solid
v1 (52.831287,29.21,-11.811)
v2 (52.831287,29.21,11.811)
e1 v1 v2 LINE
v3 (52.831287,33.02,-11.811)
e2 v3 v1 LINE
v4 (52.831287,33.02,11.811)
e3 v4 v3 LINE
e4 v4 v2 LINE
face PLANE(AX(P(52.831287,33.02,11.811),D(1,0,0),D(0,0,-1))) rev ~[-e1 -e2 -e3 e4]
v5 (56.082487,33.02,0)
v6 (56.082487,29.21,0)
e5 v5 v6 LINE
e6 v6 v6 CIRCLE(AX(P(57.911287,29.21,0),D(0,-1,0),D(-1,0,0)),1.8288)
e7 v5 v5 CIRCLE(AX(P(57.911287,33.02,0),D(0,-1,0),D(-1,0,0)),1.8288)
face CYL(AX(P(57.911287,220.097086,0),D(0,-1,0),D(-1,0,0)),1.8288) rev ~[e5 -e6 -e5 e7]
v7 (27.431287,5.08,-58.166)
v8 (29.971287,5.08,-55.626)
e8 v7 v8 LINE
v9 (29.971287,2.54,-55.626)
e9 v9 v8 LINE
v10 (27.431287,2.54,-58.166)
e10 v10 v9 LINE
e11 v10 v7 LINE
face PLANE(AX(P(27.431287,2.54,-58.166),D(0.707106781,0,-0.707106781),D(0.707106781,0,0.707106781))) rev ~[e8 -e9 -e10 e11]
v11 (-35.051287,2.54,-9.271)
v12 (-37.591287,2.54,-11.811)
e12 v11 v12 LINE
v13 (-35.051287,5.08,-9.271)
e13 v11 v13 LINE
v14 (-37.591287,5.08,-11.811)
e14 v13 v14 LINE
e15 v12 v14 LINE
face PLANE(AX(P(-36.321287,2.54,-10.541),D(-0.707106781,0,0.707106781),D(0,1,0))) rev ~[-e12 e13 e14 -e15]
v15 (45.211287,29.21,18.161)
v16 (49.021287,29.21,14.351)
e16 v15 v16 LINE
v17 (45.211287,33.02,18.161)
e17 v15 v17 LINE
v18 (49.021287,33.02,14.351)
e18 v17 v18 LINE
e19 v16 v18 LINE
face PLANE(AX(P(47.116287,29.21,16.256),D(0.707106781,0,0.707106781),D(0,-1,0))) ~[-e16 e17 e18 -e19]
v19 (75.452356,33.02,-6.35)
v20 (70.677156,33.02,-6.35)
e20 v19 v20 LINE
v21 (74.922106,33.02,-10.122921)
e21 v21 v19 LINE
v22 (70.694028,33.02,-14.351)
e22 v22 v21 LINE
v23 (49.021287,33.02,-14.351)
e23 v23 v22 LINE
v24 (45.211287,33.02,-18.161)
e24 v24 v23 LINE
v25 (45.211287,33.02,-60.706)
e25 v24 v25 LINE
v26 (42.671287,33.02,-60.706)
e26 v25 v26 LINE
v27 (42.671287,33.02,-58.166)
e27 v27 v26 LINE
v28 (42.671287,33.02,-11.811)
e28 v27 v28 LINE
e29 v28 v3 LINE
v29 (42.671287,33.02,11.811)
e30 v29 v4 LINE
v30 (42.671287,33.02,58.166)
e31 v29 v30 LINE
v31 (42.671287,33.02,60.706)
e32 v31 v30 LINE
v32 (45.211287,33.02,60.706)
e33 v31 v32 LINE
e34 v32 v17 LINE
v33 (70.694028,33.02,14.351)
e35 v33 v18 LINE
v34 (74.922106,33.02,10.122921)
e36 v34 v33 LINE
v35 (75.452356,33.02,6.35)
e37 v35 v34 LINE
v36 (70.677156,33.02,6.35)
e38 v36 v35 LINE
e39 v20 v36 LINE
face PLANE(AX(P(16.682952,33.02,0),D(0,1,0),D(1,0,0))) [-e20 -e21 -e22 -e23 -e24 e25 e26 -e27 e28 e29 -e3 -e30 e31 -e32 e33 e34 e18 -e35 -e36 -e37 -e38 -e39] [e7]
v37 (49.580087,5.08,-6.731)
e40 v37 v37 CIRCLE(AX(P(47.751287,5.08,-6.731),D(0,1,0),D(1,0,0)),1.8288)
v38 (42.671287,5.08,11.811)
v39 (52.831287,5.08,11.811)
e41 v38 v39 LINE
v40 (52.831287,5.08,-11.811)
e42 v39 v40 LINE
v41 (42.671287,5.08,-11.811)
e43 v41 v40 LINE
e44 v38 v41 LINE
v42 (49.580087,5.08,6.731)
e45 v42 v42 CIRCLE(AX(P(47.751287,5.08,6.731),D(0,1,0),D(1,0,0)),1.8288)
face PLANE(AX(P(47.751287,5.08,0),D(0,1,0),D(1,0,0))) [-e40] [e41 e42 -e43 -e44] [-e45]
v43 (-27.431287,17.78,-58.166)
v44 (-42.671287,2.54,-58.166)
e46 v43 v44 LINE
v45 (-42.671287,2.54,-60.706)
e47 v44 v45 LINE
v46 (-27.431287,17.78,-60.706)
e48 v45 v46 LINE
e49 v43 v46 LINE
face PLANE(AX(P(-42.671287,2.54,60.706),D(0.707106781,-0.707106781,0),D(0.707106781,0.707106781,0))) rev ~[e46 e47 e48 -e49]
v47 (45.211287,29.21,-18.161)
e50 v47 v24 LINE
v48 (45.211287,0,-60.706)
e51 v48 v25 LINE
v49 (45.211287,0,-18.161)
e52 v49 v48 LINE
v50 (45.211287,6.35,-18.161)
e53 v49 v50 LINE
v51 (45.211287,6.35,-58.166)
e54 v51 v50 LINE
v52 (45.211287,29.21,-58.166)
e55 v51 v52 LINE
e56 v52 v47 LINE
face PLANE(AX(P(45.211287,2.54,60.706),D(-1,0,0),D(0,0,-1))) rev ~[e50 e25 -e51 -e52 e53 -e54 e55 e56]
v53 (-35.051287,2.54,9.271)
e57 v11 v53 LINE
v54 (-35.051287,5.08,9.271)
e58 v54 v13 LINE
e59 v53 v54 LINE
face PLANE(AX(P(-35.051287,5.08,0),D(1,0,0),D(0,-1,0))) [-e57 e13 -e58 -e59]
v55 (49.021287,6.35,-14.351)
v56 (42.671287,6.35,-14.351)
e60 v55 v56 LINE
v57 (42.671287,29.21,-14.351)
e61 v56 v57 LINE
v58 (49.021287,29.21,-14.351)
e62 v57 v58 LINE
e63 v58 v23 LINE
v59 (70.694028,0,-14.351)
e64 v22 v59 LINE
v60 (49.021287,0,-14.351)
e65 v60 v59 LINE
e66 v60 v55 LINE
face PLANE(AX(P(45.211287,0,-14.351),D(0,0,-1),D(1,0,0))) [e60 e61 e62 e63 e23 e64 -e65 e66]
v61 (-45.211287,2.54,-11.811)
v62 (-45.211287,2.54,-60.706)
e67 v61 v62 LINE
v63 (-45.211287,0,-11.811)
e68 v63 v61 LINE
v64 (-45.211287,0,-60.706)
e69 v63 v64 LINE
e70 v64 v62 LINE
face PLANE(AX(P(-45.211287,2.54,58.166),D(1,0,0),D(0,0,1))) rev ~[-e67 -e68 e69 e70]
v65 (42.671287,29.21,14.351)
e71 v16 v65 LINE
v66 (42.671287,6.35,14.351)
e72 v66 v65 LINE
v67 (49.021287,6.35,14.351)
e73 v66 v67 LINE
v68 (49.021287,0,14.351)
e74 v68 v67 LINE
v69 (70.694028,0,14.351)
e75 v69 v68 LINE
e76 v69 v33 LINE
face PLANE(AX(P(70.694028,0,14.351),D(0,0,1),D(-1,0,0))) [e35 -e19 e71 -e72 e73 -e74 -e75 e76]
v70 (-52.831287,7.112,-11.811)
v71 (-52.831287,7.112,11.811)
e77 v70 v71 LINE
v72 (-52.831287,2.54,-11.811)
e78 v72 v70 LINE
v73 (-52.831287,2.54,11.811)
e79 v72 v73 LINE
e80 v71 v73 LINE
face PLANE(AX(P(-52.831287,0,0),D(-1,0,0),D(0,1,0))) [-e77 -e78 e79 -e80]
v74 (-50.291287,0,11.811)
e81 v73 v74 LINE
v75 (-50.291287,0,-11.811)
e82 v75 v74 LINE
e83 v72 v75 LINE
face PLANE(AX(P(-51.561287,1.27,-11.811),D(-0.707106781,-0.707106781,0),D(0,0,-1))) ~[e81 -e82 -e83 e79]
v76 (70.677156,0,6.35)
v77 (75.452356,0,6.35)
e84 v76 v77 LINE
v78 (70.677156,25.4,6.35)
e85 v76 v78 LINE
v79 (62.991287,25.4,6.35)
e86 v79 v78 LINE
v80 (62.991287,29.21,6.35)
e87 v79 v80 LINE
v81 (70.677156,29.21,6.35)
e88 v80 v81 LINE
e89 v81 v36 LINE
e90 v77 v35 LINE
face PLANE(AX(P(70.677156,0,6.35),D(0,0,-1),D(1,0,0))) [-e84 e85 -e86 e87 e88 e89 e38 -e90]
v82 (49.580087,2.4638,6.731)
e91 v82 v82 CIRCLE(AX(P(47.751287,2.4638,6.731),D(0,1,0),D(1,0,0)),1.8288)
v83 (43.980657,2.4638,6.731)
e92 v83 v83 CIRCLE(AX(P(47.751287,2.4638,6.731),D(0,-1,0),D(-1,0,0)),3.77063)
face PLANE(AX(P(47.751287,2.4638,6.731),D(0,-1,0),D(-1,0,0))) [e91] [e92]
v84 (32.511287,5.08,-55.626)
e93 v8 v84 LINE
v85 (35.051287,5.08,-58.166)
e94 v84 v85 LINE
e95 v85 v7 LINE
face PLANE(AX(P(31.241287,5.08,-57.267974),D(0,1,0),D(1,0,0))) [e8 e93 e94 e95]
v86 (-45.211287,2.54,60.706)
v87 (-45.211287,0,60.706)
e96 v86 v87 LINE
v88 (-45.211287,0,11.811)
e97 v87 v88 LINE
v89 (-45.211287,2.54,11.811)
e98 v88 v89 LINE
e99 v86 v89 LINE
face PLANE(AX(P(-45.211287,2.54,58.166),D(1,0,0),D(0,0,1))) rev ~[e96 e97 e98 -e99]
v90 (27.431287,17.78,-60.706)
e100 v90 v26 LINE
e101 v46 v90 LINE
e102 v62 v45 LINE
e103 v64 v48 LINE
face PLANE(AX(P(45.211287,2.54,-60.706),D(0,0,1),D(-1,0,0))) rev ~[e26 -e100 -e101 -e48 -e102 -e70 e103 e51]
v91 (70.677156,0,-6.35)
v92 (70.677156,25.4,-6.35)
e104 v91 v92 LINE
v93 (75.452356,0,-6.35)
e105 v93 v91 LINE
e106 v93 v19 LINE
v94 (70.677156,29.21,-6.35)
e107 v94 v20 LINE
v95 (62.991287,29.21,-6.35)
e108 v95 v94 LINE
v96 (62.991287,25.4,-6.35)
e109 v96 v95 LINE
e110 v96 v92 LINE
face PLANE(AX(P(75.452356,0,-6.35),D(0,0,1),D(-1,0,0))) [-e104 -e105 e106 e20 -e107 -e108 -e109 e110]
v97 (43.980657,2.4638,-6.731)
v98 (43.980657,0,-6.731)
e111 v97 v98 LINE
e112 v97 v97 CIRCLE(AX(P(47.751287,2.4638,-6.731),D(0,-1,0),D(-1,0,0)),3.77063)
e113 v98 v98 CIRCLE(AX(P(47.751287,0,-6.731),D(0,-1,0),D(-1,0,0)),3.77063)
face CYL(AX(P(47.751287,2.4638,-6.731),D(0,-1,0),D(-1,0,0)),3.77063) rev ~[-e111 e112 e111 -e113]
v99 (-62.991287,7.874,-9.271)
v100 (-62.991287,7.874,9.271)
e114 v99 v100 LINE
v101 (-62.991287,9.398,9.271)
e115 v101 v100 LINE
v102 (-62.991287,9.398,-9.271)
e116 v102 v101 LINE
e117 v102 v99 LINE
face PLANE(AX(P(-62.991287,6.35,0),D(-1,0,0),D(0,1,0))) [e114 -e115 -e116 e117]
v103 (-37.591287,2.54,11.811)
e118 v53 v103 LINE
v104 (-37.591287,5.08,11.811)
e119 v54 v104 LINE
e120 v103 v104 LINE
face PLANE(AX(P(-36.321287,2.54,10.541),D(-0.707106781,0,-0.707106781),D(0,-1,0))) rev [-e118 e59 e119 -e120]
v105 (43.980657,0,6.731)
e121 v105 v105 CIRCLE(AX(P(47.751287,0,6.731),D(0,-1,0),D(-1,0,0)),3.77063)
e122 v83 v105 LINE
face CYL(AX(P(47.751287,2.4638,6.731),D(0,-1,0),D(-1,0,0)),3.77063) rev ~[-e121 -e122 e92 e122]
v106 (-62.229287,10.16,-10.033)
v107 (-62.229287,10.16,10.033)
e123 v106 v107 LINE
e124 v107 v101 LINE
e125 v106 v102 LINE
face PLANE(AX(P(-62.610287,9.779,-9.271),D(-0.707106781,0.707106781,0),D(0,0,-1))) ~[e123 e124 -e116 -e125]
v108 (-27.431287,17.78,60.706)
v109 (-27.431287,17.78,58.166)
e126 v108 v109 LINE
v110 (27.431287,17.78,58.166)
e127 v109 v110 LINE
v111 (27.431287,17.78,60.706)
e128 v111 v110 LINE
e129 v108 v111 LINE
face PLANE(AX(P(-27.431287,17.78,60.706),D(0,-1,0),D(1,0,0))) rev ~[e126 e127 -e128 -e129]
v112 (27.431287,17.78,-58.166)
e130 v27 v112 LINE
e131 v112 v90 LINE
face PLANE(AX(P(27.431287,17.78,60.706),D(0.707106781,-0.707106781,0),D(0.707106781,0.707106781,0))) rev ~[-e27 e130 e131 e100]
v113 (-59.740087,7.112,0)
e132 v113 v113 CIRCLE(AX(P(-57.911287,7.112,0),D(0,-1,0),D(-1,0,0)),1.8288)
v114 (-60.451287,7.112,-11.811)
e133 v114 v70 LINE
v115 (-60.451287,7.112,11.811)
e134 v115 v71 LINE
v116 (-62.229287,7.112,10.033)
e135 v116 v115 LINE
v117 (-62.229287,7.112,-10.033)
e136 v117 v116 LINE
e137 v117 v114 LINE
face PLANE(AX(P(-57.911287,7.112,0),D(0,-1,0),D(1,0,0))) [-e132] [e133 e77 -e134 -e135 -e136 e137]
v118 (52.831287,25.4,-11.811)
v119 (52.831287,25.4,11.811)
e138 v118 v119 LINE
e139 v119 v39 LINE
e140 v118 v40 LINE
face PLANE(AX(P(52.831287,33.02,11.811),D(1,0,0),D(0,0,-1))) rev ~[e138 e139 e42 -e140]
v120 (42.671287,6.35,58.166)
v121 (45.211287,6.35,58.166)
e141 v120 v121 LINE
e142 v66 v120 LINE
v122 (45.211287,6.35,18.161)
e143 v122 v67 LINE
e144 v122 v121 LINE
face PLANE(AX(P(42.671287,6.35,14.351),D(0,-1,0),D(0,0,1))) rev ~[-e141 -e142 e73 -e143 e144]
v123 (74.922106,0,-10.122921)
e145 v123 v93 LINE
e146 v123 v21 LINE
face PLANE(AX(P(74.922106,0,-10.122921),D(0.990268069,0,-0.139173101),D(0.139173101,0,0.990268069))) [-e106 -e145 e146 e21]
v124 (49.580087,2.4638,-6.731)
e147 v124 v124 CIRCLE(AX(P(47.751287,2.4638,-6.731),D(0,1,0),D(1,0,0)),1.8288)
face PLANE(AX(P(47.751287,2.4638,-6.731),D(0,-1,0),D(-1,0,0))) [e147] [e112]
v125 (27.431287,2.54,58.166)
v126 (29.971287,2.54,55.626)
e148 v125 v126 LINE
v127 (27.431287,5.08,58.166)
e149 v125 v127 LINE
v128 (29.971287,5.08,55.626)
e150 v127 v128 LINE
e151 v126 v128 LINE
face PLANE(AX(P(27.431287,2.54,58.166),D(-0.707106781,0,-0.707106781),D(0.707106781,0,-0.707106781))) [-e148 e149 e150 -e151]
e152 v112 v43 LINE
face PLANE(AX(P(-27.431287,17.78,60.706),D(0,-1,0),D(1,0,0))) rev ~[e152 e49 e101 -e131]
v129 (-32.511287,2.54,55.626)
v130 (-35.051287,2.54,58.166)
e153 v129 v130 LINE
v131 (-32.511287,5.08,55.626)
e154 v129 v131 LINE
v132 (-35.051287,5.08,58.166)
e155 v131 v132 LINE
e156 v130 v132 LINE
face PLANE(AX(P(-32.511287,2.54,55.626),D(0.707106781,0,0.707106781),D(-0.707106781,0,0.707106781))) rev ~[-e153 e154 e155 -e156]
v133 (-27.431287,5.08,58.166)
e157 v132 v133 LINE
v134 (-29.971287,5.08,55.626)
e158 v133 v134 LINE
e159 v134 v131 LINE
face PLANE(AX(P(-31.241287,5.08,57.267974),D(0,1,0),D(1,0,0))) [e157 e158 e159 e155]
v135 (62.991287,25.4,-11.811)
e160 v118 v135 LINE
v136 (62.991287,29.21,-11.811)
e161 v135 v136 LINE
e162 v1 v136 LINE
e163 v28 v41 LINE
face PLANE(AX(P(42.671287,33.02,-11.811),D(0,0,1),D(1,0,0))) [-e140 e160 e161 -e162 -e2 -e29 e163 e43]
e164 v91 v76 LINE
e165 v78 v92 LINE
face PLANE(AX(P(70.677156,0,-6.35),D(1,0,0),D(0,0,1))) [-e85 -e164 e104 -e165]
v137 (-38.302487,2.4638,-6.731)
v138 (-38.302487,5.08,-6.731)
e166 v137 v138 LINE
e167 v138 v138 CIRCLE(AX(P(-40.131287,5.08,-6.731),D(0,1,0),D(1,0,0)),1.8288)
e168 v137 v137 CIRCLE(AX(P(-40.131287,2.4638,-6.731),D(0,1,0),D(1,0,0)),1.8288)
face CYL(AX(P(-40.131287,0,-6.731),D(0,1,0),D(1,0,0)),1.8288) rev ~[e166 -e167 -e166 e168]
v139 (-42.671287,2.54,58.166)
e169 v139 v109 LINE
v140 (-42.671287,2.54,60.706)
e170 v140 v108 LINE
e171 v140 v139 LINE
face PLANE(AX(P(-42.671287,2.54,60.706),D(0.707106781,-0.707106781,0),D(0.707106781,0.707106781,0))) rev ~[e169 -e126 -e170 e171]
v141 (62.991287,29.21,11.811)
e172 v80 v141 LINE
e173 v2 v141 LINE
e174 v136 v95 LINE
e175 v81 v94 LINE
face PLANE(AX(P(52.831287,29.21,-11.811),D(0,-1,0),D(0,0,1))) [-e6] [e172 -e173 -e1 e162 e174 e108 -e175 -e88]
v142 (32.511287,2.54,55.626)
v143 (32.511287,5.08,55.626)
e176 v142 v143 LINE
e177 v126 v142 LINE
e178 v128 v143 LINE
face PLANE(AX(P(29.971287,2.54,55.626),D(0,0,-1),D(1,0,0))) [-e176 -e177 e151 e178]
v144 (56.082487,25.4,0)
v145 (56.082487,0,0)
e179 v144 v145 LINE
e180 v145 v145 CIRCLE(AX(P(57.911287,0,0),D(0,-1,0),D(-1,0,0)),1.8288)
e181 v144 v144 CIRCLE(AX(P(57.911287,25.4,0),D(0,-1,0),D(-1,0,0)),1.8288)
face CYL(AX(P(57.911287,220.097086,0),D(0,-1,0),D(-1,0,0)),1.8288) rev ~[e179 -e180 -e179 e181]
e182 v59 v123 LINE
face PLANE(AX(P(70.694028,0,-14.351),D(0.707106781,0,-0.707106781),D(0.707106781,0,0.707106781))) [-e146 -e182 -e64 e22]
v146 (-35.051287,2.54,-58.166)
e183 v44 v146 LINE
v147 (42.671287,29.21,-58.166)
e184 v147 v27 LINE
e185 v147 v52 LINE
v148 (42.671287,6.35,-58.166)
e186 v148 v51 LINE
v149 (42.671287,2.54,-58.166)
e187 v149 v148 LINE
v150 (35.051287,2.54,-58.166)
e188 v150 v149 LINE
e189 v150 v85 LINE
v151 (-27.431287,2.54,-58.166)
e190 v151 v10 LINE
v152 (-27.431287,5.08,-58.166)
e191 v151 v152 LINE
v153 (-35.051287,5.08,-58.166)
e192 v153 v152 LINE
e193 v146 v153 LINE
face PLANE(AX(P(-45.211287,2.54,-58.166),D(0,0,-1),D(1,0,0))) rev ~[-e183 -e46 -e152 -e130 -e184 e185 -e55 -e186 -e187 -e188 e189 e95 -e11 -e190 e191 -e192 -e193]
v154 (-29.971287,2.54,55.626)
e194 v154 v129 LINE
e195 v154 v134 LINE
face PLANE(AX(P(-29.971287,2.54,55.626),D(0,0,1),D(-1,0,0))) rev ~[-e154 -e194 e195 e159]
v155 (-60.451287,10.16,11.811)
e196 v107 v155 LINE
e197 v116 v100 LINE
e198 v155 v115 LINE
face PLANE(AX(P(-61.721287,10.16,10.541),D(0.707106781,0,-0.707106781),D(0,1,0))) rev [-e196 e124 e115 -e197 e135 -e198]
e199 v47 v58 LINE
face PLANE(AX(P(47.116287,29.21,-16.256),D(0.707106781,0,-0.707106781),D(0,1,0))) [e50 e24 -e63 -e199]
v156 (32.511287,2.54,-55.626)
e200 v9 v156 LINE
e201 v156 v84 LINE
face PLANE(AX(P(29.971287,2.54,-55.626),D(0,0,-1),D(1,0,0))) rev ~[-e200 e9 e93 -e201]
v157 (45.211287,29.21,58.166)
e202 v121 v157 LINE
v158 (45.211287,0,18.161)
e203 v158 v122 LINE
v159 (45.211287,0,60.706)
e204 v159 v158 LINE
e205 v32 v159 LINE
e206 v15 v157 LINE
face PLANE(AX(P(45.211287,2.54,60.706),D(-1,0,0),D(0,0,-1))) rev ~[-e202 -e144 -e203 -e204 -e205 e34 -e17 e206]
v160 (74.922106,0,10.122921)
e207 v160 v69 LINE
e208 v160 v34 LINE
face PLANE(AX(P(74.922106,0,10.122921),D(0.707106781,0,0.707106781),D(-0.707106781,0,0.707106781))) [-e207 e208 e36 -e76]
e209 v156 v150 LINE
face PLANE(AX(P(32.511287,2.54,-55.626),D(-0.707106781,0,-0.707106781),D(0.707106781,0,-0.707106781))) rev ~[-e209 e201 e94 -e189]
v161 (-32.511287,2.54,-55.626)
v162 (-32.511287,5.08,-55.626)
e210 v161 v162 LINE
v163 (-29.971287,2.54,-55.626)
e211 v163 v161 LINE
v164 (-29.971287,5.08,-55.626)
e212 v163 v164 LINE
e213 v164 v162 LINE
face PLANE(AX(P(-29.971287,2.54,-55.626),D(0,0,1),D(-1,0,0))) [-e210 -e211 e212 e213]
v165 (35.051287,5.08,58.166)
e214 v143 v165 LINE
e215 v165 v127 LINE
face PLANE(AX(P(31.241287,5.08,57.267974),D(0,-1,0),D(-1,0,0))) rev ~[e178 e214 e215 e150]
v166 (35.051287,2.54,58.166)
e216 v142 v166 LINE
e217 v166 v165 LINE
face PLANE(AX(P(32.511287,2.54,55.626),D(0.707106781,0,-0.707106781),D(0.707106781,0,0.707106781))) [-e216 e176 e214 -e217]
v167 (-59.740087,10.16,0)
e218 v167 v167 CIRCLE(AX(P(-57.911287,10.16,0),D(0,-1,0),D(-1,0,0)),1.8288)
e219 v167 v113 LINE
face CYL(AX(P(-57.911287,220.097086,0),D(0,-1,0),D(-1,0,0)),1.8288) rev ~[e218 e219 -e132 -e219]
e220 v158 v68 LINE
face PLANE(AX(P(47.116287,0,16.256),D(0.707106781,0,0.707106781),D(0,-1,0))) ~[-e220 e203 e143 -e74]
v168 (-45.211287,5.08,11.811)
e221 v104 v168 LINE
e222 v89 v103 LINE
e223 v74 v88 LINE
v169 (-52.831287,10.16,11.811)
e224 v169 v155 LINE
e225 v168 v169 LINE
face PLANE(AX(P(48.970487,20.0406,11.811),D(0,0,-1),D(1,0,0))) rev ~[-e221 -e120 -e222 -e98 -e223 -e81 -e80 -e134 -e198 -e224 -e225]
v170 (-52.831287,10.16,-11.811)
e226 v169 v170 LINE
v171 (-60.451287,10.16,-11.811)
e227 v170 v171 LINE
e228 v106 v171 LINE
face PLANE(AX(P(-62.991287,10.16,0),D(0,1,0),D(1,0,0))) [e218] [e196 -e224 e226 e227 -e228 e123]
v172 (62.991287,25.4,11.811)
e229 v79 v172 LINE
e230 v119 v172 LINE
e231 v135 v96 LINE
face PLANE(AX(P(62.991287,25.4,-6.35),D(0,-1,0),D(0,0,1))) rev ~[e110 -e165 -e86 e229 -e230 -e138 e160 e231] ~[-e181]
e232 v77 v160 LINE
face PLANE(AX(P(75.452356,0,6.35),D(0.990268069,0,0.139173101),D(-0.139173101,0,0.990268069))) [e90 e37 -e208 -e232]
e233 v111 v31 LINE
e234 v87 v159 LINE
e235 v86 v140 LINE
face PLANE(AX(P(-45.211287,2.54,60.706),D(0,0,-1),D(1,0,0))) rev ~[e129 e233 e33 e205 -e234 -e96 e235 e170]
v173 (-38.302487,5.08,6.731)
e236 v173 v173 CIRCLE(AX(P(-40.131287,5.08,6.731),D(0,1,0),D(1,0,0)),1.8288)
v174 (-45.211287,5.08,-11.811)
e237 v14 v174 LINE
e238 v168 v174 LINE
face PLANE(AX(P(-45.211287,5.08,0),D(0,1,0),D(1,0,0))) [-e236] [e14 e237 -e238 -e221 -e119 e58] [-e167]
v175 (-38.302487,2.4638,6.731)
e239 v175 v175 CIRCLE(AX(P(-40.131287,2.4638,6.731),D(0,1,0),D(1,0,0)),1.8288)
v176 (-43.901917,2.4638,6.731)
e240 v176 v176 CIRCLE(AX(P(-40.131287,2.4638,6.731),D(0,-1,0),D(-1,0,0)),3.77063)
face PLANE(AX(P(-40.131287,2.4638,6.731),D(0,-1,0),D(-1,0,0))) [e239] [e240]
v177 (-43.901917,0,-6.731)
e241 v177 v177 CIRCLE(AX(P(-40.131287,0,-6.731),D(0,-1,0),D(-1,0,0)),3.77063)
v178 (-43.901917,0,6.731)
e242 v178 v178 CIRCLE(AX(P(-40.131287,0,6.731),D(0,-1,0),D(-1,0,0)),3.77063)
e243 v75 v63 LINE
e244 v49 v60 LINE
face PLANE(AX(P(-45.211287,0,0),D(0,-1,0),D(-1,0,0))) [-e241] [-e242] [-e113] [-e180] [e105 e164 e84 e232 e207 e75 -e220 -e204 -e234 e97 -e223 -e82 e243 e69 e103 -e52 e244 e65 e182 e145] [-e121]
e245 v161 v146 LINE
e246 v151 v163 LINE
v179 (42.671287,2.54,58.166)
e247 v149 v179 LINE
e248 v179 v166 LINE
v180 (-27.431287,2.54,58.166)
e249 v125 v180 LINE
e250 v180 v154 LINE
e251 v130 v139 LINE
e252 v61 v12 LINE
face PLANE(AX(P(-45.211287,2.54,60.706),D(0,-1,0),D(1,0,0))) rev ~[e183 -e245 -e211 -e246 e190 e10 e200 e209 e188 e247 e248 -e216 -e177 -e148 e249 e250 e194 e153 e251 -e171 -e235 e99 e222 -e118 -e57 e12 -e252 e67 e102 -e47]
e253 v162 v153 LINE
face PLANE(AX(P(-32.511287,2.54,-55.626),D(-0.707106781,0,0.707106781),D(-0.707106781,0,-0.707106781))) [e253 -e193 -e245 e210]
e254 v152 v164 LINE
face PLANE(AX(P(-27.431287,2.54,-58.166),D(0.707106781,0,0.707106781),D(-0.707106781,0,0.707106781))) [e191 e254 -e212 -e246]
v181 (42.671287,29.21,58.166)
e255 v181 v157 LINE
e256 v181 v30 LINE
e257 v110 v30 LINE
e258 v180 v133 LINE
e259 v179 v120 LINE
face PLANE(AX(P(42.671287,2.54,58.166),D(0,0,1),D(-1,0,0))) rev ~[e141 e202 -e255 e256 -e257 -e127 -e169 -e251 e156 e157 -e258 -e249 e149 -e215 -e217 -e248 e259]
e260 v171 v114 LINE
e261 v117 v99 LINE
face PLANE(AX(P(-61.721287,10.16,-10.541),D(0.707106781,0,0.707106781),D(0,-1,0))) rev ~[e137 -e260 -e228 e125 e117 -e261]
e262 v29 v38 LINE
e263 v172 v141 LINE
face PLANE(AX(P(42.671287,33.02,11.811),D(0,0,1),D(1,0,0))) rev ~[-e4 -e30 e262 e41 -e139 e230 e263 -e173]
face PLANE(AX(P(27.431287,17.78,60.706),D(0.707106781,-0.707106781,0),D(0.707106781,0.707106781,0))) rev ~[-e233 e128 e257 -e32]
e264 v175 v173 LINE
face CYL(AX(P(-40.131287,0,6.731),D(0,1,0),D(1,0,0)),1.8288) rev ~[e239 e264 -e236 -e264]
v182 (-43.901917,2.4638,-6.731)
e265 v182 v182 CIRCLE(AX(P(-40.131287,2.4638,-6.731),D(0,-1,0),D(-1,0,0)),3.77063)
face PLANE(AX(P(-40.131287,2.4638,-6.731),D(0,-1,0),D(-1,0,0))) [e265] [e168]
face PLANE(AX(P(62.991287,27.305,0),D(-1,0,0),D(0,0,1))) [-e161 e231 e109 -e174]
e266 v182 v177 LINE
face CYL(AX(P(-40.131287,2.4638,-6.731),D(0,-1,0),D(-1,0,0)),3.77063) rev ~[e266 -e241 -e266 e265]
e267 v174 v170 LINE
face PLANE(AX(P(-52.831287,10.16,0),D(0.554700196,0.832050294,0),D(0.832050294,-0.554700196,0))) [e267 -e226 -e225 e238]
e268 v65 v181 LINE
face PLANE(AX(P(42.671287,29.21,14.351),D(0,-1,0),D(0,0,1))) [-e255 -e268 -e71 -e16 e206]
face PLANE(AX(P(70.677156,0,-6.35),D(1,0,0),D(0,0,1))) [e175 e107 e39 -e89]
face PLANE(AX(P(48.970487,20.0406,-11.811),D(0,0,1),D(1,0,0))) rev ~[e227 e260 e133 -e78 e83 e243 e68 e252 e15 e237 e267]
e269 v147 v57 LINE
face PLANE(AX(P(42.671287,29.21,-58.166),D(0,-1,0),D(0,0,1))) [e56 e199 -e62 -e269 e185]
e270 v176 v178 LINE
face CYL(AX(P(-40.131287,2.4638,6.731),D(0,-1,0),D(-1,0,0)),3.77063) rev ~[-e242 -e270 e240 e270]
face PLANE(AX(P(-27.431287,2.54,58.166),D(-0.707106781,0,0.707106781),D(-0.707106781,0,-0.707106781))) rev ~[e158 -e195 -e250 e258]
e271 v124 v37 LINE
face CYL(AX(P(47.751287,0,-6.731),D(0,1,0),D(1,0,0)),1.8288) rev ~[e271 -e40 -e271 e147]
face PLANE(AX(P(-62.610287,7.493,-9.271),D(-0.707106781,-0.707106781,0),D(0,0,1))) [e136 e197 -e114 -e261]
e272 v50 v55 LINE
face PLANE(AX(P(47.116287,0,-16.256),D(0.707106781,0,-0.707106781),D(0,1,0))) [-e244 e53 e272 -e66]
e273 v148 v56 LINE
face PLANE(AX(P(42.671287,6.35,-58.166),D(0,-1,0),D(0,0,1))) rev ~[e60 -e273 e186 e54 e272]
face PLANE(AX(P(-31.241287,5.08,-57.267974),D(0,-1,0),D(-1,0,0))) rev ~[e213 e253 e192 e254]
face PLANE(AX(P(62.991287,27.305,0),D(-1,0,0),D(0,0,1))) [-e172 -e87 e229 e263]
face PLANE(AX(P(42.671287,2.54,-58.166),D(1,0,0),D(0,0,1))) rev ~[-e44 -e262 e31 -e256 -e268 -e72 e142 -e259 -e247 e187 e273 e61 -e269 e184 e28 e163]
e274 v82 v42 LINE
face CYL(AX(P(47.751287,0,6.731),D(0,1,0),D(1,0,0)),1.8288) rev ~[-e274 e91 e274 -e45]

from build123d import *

# Parameters (mm, degrees)
SKETCH3_W                                       = 90.422573022
SKETCH3_H                                       = 121.412
BOSS_EXTRUDE4_DEPTH                             = 2.54
BOSS_EXTRUDE5_DEPTH                             = 30.48
CUT_EXTRUDE2_DEPTH                              = 122.412
BOSS_EXTRUDE6_DEPTH                             = 33.02
SKETCH9_W                                       = 10.16
SKETCH9_H                                       = 23.622
CUT_EXTRUDE3_DEPTH                              = 27.94
BOSS_EXTRUDE7_DEPTH                             = 2.54
SKETCH12_W                                      = 23.622
SKETCH12_H                                      = 3.81
CUT_EXTRUDE4_DEPTH                              = 10.16
SKETCH13_W                                      = 12.7
SKETCH13_H                                      = 3.81
CUT_EXTRUDE5_DEPTH                              = 13.461069207
BOSS_EXTRUDE9_REACH                             = 62.706
BOSS_EXTRUDE9_DIRECTION_2_REACH                 = 62.706
CBORE_FOR_6_PAN_HEAD_MACHINE_SCREW1_D           = 3.6576
CBORE_FOR_6_PAN_HEAD_MACHINE_SCREW1_CBORE_D     = 7.54126
CBORE_FOR_6_PAN_HEAD_MACHINE_SCREW1_CBORE_DEPTH = 2.4638
F_6_CLEARANCE_HOLE1_D                           = 3.6576
SKETCH21_W                                      = 43.815
SKETCH21_H                                      = 22.86
CUT_EXTRUDE6_DEPTH                              = 33.781069207
CHAMFER1_SIZE                                   = 2.54
CHAMFER2_SIZE                                   = 3.81
SKETCH23_W                                      = 10.16
SKETCH23_H                                      = 23.622
CUT_EXTRUDE8_DEPTH                              = 0.762
CHAMFER3_SIZE                                   = 0.762


with BuildPart() as part:
    # Sketch3 → Boss-Extrude4 (new body)
    with BuildSketch(Plane(origin=(0, 0, 0), x_dir=(1, 0, 0), z_dir=(0, 1, 0))):
        Rectangle(SKETCH3_W, SKETCH3_H)
    extrude(amount=BOSS_EXTRUDE4_DEPTH)

    # Sketch6 → Boss-Extrude5 (add)
    with BuildSketch(Plane(origin=(0, 2.54, 0), x_dir=(1, 0, 0), z_dir=(0, 1, 0))):
        Polygon((45.211286511, -60.706), (45.211286511, 60.706), (-45.211286511, 60.706), (-45.211286511, 58.166), (42.671286511, 58.166), (42.671286511, -58.166), (-45.211286511, -58.166), (-45.211286511, -60.706), align=None)
    extrude(amount=BOSS_EXTRUDE5_DEPTH)

    # Sketch7 → Cut-Extrude2 (cut, through all)
    with BuildSketch(Plane.XY.offset(60.706)):
        Polygon((-42.671286511, 2.54), (-27.431286511, 17.78), (27.431286511, 17.78), (42.671286511, 33.02), (-45.211286511, 33.02), (-45.211286511, 2.54), align=None)
    extrude(amount=-CUT_EXTRUDE2_DEPTH, mode=Mode.SUBTRACT)

    # Sketch8 → Boss-Extrude6 (add)
    with BuildSketch(Plane(origin=(0, 0, 0), x_dir=(1, 0, 0), z_dir=(0, 1, 0))):
        Polygon((45.211286511, 14.351), (70.694027546, 14.351), (74.922106204, 10.122921342), (75.452355719, 6.35), (70.677155719, 6.35), (70.677155719, -6.35), (75.452355719, -6.35), (74.922106204, -10.122921342), (70.694027546, -14.351), (45.211286511, -14.351), align=None)
    extrude(amount=BOSS_EXTRUDE6_DEPTH)

    # Sketch9 → Cut-Extrude3 (cut)
    with BuildSketch(Plane(origin=(0, 33.02, 0), x_dir=(1, 0, 0), z_dir=(0, 1, 0))):
        with Locations((47.751286511, 0)):
            Rectangle(SKETCH9_W, SKETCH9_H)
    extrude(amount=-CUT_EXTRUDE3_DEPTH, mode=Mode.SUBTRACT)

    # Sketch11 → Boss-Extrude7 (add)
    with BuildSketch(Plane(origin=(0, 2.54, 0), x_dir=(1, 0, 0), z_dir=(0, 1, 0))):
        Polygon((35.051286511, 58.166), (27.431286511, 58.166), (29.971286511, 55.626), (32.511286511, 55.626), align=None)
        Polygon((-29.971286511, 55.626), (-32.511286511, 55.626), (-35.051286511, 58.166), (-27.431286511, 58.166), align=None)
        Polygon((29.971286511, -55.626), (32.511286511, -55.626), (35.051286511, -58.166), (27.431286511, -58.166), align=None)
        Polygon((-27.431286511, -58.166), (-29.971286511, -55.626), (-32.511286511, -55.626), (-35.051286511, -58.166), align=None)
    extrude(amount=BOSS_EXTRUDE7_DEPTH)

    # Sketch12 → Cut-Extrude4 (cut)
    with BuildSketch(Plane.ZY.offset(-52.831286511)):
        with Locations((0, 27.305)):
            Rectangle(SKETCH12_W, SKETCH12_H)
    extrude(amount=-CUT_EXTRUDE4_DEPTH, mode=Mode.SUBTRACT)

    # Sketch13 → Cut-Extrude5 (cut, through all)
    with BuildSketch(Plane.ZY.offset(-62.991286511)):
        with Locations((0, 27.305)):
            Rectangle(SKETCH13_W, SKETCH13_H)
    extrude(amount=-CUT_EXTRUDE5_DEPTH, mode=Mode.SUBTRACT)

    # Boss-Extrude9: up to this face of the body (flat: up to its plane)
    boss_extrude9_end = Plane(part.part.faces().sort_by_distance((48.970486511, 20.0406, -11.811))[0])
    # Sketch15 → Boss-Extrude9 (add, up to the picked face)
    with BuildSketch(Plane.XY, mode=Mode.PRIVATE) as boss_extrude9_sk1:
        Polygon((-62.991286511, 10.16), (-52.831286511, 10.16), (-45.211286511, 5.08), (-35.051286511, 5.08), (-35.051286511, 2.54), (-45.211286511, 2.54), (-45.211286511, 0), (-52.831286511, 0), (-52.831286511, 6.35), (-62.991286511, 6.35), align=None)
    boss_extrude9_tool1 = split(extrude(boss_extrude9_sk1.sketch, amount=-BOSS_EXTRUDE9_REACH, mode=Mode.PRIVATE), bisect_by=boss_extrude9_end, keep=Keep.BOTH, mode=Mode.PRIVATE)
    add(boss_extrude9_tool1.solids().sort_by_distance((-50.157602, 5.280526, 0))[0])

    # Boss-Extrude9 direction 2: up to this face of the body (flat: up to its plane)
    boss_extrude9_direction_2_end = Plane(part.part.faces().sort_by_distance((48.970486511, 20.0406, 11.811))[0])
    # Sketch15 → Boss-Extrude9 direction 2 (add, up to the picked face)
    with BuildSketch(Plane.XY, mode=Mode.PRIVATE) as boss_extrude9_direction_2_sk1:
        Polygon((-62.991286511, 10.16), (-52.831286511, 10.16), (-45.211286511, 5.08), (-35.051286511, 5.08), (-35.051286511, 2.54), (-45.211286511, 2.54), (-45.211286511, 0), (-52.831286511, 0), (-52.831286511, 6.35), (-62.991286511, 6.35), align=None)
    boss_extrude9_direction_2_tool1 = split(extrude(boss_extrude9_direction_2_sk1.sketch, amount=BOSS_EXTRUDE9_DIRECTION_2_REACH, mode=Mode.PRIVATE), bisect_by=boss_extrude9_direction_2_end, keep=Keep.BOTH, mode=Mode.PRIVATE)
    add(boss_extrude9_direction_2_tool1.solids().sort_by_distance((-50.157602, 5.280526, 0))[0])

    # CBORE for #6 Pan Head Machine Screw1 (through all)
    with Locations(Plane(origin=(0, 0, 0), x_dir=(-1, 0, 0), z_dir=(0, -1, 0))):
        with Locations((-47.751286511, 6.731), (-47.751286511, -6.731), (40.131286511, 6.731), (40.131286511, -6.731)):
            CounterBoreHole(CBORE_FOR_6_PAN_HEAD_MACHINE_SCREW1_D / 2, CBORE_FOR_6_PAN_HEAD_MACHINE_SCREW1_CBORE_D / 2, CBORE_FOR_6_PAN_HEAD_MACHINE_SCREW1_CBORE_DEPTH)

    # #6 Clearance Hole1 (through all)
    with Locations(Plane(origin=(0, 33.02, 0), x_dir=(1, 0, 0), z_dir=(0, 1, 0))):
        with Locations((-57.911286511, 0), (57.911286511, 0)):
            Hole(F_6_CLEARANCE_HOLE1_D / 2)

    # Sketch21 → Cut-Extrude6 (cut, through all)
    with BuildSketch(Plane.ZY.offset(-42.671286511)):
        with Locations((-36.2585, 17.78)):
            Rectangle(SKETCH21_W, SKETCH21_H)
        with Locations((36.2585, 17.78)):
            Rectangle(SKETCH21_W, SKETCH21_H)
    extrude(amount=-CUT_EXTRUDE6_DEPTH, mode=Mode.SUBTRACT)

    # Chamfer1
    chamfer1_edges = [part.edges().sort_by_distance(p)[0] for p in [
        (-52.831286511, 0, 0),
        (-35.051286511, 3.81, -11.811),
        (-62.991286511, 8.255, -11.811),
        (-62.991286511, 8.255, 11.811),
        (-35.051286511, 3.81, 11.811),
    ]]
    chamfer(chamfer1_edges, length=CHAMFER1_SIZE)

    # Chamfer2
    chamfer2_edges = [part.edges().sort_by_distance(p)[0] for p in [
        (45.211286511, 3.175, -14.351),
        (45.211286511, 3.175, 14.351),
        (45.211286511, 31.115, -14.351),
        (45.211286511, 31.115, 14.351),
    ]]
    chamfer(chamfer2_edges, length=CHAMFER2_SIZE)

    # Sketch23 → Cut-Extrude8 (cut)
    with BuildSketch(Plane.XZ.offset(-6.35)):
        with Locations((-57.911286511, 0)):
            Rectangle(SKETCH23_W, SKETCH23_H)
    extrude(amount=-CUT_EXTRUDE8_DEPTH, mode=Mode.SUBTRACT)

    # Chamfer3
    chamfer3_edges = [part.edges().sort_by_distance(p)[0] for p in [
        (-62.991286511, 10.16, 0),
        (-62.991286511, 7.112, 0),
    ]]
    chamfer(chamfer3_edges, length=CHAMFER3_SIZE)


solid = part.part
